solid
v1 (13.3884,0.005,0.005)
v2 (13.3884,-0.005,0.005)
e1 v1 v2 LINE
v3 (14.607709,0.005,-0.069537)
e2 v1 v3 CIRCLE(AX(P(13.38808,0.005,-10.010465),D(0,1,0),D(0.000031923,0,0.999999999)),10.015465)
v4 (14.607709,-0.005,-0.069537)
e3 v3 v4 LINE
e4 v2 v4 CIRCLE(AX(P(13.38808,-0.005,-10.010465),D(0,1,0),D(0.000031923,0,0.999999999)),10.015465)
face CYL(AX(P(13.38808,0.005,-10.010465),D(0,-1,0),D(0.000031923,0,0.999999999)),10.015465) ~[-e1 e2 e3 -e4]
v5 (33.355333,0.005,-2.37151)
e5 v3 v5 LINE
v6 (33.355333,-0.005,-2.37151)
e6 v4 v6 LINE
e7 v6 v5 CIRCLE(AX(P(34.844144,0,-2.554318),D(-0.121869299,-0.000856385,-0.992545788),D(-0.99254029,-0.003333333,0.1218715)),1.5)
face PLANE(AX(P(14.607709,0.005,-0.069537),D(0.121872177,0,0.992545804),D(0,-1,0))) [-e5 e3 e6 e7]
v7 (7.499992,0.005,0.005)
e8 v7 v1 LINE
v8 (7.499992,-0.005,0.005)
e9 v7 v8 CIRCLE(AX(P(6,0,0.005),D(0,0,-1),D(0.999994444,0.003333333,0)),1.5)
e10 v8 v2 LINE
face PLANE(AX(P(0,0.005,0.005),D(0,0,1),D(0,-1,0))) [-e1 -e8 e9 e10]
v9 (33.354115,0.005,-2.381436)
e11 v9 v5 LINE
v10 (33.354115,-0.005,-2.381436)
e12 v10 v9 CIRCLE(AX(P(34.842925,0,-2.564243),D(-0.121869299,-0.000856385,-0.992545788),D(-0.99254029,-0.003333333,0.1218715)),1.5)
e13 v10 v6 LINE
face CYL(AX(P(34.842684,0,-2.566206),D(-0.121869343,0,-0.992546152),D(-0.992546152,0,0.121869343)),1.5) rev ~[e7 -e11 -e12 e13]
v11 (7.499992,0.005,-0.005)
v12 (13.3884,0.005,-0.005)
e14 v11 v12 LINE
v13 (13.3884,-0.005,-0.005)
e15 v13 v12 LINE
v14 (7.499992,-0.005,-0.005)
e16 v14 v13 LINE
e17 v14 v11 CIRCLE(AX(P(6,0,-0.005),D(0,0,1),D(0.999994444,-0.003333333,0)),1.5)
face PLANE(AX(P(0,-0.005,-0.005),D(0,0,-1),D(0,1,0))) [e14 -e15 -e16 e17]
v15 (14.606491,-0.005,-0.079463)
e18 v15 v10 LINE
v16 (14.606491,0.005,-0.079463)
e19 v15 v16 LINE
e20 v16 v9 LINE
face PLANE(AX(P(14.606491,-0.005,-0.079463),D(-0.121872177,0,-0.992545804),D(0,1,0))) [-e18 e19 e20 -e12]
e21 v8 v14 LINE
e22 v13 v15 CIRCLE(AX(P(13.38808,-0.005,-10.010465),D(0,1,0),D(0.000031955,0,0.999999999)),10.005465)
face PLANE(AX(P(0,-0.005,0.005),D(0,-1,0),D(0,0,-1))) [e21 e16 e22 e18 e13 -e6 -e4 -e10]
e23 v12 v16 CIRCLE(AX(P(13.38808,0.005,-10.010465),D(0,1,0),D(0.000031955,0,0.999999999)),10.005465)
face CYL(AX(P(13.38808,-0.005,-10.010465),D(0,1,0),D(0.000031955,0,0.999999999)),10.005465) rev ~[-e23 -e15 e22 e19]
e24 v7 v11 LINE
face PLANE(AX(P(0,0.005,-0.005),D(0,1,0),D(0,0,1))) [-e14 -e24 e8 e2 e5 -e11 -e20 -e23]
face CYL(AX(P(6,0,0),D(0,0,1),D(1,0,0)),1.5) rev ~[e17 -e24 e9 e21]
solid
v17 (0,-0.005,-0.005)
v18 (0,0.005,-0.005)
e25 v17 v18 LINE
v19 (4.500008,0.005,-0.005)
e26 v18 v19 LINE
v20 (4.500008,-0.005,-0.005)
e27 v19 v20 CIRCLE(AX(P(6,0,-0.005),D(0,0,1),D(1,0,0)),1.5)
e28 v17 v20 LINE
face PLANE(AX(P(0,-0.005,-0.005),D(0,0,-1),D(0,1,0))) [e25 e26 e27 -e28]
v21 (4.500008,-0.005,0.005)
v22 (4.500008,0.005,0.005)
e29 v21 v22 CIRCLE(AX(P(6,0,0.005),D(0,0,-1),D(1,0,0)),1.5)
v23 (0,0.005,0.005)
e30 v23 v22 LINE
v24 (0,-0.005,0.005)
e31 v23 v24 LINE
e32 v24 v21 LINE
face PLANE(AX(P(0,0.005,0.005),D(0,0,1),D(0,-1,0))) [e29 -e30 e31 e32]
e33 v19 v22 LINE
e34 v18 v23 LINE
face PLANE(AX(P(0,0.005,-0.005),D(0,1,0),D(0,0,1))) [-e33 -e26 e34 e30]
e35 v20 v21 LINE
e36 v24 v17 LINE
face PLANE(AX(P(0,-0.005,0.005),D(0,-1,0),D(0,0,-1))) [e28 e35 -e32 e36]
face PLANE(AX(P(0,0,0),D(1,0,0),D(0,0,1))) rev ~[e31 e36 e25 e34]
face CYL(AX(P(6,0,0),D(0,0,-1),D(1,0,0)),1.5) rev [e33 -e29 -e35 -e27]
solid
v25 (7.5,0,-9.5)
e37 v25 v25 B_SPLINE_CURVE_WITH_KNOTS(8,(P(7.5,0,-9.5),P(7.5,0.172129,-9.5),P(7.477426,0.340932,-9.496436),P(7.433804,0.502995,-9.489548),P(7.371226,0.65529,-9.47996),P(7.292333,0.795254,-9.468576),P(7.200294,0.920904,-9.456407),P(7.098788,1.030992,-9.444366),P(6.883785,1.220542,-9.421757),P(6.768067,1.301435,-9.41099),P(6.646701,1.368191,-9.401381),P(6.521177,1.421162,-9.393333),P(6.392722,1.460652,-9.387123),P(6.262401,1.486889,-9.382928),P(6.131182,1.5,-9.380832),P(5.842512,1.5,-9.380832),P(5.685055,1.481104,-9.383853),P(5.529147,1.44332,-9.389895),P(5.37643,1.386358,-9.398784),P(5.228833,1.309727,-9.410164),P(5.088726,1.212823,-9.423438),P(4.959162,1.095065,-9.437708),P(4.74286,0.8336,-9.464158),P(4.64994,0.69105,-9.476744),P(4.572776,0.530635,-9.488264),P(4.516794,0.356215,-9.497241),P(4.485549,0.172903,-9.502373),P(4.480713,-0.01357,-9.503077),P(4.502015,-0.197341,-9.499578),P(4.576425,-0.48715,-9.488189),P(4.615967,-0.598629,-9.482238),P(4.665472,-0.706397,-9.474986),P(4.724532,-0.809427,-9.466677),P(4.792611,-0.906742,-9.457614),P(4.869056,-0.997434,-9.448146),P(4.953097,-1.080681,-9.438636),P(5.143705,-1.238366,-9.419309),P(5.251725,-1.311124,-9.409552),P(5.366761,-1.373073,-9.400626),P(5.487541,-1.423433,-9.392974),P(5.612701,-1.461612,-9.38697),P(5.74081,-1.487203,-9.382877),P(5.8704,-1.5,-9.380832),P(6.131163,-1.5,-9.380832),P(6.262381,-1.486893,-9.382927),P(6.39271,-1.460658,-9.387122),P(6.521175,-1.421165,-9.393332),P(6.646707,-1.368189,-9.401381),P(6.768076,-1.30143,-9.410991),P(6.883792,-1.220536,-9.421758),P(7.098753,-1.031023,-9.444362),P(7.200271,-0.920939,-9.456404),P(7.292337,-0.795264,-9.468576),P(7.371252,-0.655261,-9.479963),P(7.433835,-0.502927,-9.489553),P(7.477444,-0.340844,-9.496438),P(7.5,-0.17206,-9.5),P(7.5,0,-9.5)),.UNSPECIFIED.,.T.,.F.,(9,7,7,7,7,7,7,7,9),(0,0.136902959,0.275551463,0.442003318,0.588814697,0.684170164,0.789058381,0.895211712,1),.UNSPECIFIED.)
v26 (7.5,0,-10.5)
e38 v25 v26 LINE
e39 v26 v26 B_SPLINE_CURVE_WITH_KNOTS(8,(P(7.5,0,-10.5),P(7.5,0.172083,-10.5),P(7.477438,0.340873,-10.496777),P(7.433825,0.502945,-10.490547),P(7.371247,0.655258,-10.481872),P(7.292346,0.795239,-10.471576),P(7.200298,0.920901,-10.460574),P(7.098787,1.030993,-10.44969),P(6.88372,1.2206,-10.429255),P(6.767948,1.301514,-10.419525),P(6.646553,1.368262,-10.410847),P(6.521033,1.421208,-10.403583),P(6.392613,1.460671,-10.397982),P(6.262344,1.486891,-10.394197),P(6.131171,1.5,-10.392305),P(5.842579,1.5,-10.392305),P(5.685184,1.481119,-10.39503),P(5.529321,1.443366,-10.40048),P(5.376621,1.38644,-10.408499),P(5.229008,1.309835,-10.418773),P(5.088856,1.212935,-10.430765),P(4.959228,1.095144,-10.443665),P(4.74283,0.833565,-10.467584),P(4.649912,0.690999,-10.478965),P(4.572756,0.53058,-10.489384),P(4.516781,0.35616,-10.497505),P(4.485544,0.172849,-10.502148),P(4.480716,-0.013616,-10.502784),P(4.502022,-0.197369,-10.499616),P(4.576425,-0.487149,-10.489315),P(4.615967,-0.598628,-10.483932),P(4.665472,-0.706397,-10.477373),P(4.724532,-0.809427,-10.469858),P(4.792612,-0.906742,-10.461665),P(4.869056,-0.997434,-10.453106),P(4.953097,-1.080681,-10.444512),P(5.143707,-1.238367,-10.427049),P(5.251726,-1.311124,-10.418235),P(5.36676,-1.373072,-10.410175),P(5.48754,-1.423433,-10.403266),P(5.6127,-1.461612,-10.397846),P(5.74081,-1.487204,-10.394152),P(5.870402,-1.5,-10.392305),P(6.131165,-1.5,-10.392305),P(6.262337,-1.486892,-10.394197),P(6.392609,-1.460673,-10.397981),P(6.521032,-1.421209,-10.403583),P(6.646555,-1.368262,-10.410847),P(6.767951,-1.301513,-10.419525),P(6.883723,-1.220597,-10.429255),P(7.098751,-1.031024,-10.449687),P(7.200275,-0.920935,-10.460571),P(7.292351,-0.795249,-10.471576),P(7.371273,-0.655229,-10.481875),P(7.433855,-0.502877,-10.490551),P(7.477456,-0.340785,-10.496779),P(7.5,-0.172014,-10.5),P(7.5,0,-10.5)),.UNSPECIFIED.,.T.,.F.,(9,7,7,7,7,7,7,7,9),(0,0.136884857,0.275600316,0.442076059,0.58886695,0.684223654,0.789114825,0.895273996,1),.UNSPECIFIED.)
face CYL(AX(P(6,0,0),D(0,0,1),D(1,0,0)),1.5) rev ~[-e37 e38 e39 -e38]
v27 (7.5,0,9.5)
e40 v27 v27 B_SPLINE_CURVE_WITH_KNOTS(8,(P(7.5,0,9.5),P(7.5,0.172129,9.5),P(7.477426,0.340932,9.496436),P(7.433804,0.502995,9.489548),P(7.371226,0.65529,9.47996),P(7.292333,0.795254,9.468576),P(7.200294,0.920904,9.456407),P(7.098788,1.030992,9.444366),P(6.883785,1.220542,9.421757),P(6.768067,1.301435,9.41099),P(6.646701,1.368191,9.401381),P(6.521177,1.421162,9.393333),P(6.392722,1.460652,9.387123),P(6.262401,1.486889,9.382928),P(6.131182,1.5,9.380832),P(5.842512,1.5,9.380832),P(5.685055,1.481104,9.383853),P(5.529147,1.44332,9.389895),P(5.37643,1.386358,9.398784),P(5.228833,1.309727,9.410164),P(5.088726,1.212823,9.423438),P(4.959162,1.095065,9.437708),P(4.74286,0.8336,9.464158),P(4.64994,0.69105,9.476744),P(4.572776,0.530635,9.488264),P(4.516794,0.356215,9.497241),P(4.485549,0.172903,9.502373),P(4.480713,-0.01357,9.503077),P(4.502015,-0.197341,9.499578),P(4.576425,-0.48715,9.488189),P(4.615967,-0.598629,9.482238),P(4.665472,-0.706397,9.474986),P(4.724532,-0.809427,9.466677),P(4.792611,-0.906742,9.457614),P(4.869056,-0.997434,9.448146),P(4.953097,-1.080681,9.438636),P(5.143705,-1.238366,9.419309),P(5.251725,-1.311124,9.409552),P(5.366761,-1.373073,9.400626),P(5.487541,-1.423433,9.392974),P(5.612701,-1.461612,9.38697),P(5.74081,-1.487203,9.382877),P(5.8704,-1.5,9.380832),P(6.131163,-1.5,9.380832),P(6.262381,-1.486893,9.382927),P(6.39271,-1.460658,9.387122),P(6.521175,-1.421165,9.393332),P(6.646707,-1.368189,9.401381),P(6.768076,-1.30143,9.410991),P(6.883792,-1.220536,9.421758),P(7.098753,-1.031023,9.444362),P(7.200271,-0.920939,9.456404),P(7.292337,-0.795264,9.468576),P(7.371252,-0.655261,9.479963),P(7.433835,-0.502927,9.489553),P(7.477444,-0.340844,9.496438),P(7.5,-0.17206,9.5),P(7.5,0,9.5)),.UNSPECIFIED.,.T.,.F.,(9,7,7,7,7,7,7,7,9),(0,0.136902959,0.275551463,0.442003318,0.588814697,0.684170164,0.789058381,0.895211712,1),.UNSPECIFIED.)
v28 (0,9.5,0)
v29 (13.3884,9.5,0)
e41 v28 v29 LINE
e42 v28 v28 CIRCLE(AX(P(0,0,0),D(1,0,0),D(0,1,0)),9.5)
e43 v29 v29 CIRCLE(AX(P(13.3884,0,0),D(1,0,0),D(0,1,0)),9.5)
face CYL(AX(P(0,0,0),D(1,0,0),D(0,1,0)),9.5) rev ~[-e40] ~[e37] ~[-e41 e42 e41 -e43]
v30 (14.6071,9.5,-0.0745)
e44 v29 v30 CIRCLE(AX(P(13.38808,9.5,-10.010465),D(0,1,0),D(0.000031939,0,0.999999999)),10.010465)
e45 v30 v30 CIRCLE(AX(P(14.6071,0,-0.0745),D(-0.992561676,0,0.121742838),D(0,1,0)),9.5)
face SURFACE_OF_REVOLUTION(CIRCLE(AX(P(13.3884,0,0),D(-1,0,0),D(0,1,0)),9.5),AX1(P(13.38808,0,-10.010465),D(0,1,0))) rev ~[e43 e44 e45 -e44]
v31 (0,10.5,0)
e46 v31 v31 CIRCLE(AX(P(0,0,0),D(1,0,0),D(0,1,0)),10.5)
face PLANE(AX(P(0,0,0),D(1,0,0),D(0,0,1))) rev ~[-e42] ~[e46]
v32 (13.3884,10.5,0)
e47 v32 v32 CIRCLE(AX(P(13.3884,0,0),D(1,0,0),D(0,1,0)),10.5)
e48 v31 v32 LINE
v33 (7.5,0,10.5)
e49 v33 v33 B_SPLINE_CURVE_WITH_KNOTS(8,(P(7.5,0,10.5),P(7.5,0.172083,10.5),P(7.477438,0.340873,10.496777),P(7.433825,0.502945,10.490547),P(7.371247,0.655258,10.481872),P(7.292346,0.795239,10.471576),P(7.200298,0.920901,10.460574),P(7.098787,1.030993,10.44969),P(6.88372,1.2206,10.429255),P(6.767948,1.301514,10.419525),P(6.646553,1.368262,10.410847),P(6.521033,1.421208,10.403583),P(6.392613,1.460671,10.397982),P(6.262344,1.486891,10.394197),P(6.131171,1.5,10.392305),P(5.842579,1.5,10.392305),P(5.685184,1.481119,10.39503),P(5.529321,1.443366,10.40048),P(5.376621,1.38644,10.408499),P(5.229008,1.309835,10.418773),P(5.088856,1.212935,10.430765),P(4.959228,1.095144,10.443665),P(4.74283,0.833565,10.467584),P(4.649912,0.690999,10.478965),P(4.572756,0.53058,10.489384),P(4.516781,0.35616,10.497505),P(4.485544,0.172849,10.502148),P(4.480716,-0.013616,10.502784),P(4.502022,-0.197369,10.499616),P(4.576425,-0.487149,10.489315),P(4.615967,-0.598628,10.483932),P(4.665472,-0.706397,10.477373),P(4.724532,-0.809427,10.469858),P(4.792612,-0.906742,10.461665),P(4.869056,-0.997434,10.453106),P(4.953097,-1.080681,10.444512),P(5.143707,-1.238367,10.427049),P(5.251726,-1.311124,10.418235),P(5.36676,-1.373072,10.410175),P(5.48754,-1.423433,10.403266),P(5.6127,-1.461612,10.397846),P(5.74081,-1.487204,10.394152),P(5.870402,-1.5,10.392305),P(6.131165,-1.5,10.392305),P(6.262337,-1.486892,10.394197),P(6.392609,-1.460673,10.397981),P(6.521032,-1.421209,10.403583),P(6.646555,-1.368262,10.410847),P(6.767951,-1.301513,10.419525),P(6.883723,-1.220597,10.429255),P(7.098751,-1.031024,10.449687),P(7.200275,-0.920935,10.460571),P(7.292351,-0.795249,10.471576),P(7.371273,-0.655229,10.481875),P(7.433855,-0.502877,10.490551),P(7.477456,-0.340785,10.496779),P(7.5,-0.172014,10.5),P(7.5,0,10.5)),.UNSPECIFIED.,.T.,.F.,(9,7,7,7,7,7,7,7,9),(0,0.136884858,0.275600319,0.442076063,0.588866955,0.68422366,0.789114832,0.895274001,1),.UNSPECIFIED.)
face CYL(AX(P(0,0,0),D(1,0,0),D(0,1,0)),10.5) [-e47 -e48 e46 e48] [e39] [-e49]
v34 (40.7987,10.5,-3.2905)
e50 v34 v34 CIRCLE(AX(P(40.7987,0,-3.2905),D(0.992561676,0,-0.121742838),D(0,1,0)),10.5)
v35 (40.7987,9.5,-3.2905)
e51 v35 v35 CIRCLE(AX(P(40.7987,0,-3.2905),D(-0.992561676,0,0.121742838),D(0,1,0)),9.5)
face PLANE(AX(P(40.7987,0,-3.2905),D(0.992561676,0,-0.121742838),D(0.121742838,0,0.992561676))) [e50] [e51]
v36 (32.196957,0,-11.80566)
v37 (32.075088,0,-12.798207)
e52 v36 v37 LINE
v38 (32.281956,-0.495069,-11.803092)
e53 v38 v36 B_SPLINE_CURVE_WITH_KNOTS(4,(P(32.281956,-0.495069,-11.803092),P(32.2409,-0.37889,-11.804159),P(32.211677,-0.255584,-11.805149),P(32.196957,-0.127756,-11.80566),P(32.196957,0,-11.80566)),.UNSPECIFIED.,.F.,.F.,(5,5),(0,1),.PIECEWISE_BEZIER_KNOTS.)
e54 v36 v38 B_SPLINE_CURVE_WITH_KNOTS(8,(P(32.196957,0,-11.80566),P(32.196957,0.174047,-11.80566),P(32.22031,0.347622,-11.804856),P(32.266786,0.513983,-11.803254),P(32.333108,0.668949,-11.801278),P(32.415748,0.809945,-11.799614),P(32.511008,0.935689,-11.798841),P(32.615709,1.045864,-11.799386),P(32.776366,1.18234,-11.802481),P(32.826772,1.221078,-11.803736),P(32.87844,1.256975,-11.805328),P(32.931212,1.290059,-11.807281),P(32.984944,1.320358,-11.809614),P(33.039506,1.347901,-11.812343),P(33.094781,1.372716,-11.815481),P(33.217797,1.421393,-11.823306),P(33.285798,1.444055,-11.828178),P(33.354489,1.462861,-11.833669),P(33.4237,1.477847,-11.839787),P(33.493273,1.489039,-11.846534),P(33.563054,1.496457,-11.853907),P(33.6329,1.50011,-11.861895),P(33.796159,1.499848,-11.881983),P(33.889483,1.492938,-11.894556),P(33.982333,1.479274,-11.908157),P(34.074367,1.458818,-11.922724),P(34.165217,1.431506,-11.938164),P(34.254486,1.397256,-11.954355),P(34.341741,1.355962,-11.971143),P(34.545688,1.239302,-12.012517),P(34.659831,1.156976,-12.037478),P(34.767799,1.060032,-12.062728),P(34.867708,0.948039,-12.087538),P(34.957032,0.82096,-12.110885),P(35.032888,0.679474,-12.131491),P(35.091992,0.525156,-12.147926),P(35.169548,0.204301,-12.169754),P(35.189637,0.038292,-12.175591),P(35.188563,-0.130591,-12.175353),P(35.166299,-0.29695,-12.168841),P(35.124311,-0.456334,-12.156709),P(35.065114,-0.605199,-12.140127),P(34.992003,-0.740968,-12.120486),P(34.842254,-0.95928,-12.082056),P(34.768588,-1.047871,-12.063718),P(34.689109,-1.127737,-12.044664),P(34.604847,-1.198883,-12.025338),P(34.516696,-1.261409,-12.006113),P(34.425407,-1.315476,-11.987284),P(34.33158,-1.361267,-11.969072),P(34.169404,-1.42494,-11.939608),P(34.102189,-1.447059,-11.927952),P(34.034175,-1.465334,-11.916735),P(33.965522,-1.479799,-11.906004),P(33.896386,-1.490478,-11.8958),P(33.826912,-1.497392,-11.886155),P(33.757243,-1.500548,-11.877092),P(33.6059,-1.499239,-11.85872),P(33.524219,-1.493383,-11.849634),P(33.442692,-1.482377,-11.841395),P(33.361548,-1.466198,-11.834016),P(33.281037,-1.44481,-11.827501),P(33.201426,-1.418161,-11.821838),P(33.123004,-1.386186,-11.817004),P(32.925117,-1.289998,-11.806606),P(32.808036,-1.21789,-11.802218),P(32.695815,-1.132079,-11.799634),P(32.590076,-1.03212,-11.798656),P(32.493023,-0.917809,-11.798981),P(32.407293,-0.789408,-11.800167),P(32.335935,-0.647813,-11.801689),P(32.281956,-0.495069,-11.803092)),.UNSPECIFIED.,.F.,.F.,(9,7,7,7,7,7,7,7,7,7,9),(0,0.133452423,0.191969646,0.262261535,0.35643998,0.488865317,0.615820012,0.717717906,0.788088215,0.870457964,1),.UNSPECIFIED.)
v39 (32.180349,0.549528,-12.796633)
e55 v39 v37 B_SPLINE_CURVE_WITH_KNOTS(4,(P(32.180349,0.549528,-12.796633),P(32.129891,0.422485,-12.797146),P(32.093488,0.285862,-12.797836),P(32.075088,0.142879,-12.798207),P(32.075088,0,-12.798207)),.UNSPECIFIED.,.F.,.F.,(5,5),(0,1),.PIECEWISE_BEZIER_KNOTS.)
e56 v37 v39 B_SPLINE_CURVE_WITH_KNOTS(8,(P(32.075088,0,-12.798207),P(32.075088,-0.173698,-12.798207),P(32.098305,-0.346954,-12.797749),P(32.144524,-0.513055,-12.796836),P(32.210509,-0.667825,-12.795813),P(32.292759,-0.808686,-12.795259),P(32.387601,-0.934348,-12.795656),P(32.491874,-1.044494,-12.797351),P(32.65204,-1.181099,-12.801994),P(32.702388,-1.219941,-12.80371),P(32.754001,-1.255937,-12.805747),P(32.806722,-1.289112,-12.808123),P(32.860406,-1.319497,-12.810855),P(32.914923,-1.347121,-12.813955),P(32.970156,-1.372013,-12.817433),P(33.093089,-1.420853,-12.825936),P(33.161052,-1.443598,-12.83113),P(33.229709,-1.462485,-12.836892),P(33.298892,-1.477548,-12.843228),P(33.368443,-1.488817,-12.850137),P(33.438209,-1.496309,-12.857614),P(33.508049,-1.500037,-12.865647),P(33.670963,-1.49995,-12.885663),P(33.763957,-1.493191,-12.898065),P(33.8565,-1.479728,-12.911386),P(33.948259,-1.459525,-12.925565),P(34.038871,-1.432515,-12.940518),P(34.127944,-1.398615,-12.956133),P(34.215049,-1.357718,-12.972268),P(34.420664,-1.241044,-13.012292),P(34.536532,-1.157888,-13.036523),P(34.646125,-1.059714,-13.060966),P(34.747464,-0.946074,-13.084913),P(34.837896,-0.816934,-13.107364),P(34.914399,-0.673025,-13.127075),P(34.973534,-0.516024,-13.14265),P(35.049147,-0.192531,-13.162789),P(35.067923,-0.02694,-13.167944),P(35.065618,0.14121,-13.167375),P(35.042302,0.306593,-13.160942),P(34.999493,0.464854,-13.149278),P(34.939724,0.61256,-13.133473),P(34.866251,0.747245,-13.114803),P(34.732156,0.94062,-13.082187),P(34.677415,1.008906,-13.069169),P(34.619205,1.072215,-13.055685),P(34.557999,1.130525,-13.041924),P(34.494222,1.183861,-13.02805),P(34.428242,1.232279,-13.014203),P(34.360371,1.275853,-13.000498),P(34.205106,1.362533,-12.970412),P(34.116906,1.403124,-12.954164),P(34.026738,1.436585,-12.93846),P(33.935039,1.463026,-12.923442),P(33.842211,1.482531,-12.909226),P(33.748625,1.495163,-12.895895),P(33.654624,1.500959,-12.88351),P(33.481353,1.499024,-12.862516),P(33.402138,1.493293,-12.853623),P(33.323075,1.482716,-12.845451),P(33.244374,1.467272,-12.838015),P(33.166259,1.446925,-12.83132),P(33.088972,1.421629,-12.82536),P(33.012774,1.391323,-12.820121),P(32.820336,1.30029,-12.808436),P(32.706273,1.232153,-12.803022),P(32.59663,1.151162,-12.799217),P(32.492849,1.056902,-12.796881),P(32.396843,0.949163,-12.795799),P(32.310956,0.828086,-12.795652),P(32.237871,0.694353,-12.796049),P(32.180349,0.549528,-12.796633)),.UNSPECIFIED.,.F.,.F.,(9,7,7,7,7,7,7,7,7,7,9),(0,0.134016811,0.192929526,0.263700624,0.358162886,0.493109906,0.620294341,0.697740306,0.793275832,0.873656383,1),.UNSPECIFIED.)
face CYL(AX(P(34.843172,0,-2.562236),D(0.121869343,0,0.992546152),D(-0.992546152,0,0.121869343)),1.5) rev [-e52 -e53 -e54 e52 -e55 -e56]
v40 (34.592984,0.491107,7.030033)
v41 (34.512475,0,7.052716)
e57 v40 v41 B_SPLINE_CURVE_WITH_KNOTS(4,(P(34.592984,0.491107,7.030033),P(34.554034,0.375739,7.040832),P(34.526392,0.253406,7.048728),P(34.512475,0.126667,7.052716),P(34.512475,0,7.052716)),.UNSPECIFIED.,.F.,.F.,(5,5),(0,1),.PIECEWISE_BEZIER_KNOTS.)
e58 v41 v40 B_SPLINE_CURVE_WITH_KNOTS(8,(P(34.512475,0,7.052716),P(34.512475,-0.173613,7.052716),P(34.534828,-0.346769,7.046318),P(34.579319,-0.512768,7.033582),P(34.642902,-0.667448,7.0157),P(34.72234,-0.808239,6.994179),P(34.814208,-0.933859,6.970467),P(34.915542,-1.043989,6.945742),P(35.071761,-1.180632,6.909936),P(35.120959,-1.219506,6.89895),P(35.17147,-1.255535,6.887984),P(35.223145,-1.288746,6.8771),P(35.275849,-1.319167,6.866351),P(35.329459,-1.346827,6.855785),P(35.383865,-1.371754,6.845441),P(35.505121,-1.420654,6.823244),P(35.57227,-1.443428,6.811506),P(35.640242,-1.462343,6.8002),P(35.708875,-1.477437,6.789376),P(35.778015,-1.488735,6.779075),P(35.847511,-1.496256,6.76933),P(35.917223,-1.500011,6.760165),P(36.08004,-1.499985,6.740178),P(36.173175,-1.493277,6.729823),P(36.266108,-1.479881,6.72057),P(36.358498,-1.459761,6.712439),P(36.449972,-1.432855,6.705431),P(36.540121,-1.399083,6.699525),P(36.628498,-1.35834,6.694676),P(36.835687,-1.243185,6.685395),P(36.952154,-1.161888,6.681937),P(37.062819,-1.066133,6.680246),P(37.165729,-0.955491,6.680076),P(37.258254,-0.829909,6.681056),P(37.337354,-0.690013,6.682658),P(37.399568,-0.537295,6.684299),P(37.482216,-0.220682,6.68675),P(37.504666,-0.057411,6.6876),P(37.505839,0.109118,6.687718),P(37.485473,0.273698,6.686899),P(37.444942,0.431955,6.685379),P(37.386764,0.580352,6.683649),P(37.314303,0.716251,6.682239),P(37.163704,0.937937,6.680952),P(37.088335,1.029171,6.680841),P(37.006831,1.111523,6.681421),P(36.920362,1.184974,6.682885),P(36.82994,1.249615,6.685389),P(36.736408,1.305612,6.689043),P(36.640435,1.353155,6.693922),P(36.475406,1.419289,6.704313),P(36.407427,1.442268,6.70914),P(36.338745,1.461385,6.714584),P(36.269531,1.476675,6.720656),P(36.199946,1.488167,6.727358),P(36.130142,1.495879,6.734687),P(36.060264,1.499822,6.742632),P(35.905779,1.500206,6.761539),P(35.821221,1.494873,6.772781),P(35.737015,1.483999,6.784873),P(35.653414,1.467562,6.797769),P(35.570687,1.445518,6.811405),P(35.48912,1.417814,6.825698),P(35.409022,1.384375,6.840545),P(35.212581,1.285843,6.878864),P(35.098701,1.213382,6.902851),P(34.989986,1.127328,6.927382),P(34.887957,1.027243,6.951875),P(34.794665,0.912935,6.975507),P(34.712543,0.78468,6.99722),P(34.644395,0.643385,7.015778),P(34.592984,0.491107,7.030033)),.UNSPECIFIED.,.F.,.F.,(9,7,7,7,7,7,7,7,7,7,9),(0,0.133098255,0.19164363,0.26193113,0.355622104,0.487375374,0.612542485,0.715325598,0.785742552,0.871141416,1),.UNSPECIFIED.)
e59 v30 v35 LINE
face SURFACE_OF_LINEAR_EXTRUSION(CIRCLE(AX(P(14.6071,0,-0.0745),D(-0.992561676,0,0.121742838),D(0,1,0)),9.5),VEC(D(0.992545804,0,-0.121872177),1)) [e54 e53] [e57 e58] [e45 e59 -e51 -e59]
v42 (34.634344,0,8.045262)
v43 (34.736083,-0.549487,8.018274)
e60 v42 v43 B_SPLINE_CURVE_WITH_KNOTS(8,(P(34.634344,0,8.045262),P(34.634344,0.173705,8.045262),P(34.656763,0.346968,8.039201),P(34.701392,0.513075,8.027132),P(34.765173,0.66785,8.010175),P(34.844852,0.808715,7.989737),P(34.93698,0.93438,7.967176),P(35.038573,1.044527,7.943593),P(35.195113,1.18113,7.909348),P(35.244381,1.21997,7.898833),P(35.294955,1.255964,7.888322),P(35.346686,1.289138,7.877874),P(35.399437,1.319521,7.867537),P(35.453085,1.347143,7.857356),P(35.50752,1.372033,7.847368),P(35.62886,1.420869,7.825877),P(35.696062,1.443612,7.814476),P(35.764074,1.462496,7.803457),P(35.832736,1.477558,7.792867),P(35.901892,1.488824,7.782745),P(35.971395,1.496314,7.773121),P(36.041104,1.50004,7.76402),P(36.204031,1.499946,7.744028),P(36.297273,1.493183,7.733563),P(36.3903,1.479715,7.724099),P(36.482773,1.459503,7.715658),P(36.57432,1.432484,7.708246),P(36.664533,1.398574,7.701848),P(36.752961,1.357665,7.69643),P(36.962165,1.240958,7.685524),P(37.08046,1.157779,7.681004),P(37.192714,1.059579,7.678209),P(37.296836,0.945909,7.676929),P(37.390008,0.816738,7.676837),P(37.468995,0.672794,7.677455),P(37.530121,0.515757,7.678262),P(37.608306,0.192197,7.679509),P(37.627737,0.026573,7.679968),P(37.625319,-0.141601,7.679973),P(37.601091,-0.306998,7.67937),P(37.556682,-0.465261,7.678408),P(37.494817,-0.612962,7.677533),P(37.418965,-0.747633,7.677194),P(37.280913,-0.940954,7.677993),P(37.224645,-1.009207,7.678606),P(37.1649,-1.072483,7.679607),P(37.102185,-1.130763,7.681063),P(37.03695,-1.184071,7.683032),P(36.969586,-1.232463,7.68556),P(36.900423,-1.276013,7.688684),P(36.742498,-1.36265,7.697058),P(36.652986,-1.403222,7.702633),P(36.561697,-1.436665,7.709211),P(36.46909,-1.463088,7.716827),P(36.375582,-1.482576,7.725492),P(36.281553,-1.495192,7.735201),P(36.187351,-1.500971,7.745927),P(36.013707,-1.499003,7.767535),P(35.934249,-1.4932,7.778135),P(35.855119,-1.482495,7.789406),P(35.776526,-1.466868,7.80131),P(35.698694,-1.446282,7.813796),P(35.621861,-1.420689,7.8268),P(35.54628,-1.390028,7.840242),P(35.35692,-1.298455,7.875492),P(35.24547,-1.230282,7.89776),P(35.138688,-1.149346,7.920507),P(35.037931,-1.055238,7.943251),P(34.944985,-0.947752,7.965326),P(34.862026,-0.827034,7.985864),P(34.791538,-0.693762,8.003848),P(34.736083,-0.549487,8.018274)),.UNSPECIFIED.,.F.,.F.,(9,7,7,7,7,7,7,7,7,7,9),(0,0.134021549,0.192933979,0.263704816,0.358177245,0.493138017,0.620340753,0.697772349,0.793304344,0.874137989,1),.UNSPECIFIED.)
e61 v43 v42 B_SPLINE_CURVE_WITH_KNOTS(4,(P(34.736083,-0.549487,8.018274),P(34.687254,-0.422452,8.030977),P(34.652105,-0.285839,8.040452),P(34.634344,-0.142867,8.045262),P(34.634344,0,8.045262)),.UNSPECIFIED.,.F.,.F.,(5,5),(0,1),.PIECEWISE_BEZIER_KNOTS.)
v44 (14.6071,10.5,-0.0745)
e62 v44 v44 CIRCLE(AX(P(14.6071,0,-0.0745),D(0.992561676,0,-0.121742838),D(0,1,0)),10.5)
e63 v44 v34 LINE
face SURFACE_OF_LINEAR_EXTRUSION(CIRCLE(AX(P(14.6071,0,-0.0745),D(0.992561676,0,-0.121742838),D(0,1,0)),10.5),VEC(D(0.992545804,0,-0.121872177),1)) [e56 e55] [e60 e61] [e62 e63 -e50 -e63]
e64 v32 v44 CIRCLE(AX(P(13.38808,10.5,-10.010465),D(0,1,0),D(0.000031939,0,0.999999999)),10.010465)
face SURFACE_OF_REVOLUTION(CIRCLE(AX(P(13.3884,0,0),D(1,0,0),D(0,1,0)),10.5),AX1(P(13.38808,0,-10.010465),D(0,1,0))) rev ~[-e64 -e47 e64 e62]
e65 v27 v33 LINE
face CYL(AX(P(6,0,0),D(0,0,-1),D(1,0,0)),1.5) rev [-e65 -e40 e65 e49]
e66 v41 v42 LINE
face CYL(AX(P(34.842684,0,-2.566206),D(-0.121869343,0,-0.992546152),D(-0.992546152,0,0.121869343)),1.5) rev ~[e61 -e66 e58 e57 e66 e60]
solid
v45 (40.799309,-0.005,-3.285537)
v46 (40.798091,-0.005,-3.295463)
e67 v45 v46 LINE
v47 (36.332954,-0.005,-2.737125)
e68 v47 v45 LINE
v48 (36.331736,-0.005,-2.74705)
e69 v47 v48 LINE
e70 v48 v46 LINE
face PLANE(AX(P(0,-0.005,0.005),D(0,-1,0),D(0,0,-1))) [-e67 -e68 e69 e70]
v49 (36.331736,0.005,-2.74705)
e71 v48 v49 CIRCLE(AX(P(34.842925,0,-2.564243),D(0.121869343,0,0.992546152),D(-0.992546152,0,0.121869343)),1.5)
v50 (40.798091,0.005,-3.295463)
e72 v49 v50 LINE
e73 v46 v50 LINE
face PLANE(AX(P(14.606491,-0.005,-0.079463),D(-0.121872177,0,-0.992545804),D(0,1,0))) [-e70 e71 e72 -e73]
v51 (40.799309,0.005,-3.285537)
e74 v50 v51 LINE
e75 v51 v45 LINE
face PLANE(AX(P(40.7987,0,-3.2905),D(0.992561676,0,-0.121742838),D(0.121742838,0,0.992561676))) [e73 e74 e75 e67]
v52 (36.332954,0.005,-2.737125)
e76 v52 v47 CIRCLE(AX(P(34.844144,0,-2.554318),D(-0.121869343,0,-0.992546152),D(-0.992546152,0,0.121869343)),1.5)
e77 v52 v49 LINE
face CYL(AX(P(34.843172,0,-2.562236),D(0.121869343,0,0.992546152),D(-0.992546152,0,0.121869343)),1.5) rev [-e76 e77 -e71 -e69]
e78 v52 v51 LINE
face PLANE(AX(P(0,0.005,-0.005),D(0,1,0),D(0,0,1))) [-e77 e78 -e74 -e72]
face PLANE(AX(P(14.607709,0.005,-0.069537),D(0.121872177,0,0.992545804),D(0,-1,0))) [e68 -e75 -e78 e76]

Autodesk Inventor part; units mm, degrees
ref_plane "YZ Plane" through (0, 0, 0) normal (1, 0, 0) x (0, 1, 0)
ref_plane "XZ Plane" through (0, 0, 0) normal (0, 1, 0) x (-1, 0, 0)
ref_plane "XY Plane" through (0, 0, 0) normal (0, 0, 1) x (1, 0, 0)
sketch "Sketch5" plane through (0, 0, 0) normal (0, 1, 0) x (-1, 0, 0)
  line L0 (0, 0) -> (-13.3884, 0)
  line L1 (-14.6071, -0.0745) -> (-40.7987, -3.2905)
  arc A0 (-13.3884, 0) -> (-14.6071, -0.0745) centre (-13.3884, -10) ccw
  point P0 (-14, 0)
  dimension "d122" = 14
  dimension "d123" = 27
  dimension "d124" = 173
  dimension "d125" = 10
sketch "Sketch6" plane through (0, 0, 0) normal (1, 0, 0) x (0, 1, 0)
  circle A0 centre (0, 0) radius 9.5
  circle A1 centre (0, 0) radius 10.5
  line L0 (-0.005, -0.005) -> (0.005, -0.005)
  line L1 (0.005, -0.005) -> (0.005, 0.005)
  line L2 (0.005, 0.005) -> (-0.005, 0.005)
  line L3 (-0.005, 0.005) -> (-0.005, -0.005)
  line L4 (-0.005, -0.005) -> (0.005, 0.005) construction
  line L5 (0.005, -0.005) -> (-0.005, 0.005) construction
  dimension "d126" = 19
  dimension "d127" = 21
  dimension "d138" = 0.01
  dimension "d139" = 0.01
sweep "Sweep1" add profiles "Sketch6" path "Sketch5"
sketch "Sketch7" plane through (0, 0, 0) normal (0, 0, 1) x (1, 0, 0)
  line L0 (0, 0) -> (6, 0) construction
  circle A0 centre (6, 0) radius 1.5
  dimension "d130" = 6
  dimension "d131" = 3
extrude "Extrusion8" cut sketch "Sketch7" along normal mid plane 25
sketch "Sketch8" plane through (14.6065, -0.005, -0.0795) normal (-0.1219, 0, -0.9925) x (-0.9925, 0, 0.1219)
  line L0 (-26.3884, 0) -> (-26.3884, 0.01) projected
  line L1 (-26.3884, 0.005) -> (-20.3884, 0.005) construction
  circle A0 centre (-20.3884, 0.005) radius 1.5
  point P0 (14.5073, 0.005)
  dimension "d134" = 6
  dimension "d135" = 3
extrude "Extrusion9" cut sketch "Sketch8" along normal mid plane 25
properties part number "airfoil"
